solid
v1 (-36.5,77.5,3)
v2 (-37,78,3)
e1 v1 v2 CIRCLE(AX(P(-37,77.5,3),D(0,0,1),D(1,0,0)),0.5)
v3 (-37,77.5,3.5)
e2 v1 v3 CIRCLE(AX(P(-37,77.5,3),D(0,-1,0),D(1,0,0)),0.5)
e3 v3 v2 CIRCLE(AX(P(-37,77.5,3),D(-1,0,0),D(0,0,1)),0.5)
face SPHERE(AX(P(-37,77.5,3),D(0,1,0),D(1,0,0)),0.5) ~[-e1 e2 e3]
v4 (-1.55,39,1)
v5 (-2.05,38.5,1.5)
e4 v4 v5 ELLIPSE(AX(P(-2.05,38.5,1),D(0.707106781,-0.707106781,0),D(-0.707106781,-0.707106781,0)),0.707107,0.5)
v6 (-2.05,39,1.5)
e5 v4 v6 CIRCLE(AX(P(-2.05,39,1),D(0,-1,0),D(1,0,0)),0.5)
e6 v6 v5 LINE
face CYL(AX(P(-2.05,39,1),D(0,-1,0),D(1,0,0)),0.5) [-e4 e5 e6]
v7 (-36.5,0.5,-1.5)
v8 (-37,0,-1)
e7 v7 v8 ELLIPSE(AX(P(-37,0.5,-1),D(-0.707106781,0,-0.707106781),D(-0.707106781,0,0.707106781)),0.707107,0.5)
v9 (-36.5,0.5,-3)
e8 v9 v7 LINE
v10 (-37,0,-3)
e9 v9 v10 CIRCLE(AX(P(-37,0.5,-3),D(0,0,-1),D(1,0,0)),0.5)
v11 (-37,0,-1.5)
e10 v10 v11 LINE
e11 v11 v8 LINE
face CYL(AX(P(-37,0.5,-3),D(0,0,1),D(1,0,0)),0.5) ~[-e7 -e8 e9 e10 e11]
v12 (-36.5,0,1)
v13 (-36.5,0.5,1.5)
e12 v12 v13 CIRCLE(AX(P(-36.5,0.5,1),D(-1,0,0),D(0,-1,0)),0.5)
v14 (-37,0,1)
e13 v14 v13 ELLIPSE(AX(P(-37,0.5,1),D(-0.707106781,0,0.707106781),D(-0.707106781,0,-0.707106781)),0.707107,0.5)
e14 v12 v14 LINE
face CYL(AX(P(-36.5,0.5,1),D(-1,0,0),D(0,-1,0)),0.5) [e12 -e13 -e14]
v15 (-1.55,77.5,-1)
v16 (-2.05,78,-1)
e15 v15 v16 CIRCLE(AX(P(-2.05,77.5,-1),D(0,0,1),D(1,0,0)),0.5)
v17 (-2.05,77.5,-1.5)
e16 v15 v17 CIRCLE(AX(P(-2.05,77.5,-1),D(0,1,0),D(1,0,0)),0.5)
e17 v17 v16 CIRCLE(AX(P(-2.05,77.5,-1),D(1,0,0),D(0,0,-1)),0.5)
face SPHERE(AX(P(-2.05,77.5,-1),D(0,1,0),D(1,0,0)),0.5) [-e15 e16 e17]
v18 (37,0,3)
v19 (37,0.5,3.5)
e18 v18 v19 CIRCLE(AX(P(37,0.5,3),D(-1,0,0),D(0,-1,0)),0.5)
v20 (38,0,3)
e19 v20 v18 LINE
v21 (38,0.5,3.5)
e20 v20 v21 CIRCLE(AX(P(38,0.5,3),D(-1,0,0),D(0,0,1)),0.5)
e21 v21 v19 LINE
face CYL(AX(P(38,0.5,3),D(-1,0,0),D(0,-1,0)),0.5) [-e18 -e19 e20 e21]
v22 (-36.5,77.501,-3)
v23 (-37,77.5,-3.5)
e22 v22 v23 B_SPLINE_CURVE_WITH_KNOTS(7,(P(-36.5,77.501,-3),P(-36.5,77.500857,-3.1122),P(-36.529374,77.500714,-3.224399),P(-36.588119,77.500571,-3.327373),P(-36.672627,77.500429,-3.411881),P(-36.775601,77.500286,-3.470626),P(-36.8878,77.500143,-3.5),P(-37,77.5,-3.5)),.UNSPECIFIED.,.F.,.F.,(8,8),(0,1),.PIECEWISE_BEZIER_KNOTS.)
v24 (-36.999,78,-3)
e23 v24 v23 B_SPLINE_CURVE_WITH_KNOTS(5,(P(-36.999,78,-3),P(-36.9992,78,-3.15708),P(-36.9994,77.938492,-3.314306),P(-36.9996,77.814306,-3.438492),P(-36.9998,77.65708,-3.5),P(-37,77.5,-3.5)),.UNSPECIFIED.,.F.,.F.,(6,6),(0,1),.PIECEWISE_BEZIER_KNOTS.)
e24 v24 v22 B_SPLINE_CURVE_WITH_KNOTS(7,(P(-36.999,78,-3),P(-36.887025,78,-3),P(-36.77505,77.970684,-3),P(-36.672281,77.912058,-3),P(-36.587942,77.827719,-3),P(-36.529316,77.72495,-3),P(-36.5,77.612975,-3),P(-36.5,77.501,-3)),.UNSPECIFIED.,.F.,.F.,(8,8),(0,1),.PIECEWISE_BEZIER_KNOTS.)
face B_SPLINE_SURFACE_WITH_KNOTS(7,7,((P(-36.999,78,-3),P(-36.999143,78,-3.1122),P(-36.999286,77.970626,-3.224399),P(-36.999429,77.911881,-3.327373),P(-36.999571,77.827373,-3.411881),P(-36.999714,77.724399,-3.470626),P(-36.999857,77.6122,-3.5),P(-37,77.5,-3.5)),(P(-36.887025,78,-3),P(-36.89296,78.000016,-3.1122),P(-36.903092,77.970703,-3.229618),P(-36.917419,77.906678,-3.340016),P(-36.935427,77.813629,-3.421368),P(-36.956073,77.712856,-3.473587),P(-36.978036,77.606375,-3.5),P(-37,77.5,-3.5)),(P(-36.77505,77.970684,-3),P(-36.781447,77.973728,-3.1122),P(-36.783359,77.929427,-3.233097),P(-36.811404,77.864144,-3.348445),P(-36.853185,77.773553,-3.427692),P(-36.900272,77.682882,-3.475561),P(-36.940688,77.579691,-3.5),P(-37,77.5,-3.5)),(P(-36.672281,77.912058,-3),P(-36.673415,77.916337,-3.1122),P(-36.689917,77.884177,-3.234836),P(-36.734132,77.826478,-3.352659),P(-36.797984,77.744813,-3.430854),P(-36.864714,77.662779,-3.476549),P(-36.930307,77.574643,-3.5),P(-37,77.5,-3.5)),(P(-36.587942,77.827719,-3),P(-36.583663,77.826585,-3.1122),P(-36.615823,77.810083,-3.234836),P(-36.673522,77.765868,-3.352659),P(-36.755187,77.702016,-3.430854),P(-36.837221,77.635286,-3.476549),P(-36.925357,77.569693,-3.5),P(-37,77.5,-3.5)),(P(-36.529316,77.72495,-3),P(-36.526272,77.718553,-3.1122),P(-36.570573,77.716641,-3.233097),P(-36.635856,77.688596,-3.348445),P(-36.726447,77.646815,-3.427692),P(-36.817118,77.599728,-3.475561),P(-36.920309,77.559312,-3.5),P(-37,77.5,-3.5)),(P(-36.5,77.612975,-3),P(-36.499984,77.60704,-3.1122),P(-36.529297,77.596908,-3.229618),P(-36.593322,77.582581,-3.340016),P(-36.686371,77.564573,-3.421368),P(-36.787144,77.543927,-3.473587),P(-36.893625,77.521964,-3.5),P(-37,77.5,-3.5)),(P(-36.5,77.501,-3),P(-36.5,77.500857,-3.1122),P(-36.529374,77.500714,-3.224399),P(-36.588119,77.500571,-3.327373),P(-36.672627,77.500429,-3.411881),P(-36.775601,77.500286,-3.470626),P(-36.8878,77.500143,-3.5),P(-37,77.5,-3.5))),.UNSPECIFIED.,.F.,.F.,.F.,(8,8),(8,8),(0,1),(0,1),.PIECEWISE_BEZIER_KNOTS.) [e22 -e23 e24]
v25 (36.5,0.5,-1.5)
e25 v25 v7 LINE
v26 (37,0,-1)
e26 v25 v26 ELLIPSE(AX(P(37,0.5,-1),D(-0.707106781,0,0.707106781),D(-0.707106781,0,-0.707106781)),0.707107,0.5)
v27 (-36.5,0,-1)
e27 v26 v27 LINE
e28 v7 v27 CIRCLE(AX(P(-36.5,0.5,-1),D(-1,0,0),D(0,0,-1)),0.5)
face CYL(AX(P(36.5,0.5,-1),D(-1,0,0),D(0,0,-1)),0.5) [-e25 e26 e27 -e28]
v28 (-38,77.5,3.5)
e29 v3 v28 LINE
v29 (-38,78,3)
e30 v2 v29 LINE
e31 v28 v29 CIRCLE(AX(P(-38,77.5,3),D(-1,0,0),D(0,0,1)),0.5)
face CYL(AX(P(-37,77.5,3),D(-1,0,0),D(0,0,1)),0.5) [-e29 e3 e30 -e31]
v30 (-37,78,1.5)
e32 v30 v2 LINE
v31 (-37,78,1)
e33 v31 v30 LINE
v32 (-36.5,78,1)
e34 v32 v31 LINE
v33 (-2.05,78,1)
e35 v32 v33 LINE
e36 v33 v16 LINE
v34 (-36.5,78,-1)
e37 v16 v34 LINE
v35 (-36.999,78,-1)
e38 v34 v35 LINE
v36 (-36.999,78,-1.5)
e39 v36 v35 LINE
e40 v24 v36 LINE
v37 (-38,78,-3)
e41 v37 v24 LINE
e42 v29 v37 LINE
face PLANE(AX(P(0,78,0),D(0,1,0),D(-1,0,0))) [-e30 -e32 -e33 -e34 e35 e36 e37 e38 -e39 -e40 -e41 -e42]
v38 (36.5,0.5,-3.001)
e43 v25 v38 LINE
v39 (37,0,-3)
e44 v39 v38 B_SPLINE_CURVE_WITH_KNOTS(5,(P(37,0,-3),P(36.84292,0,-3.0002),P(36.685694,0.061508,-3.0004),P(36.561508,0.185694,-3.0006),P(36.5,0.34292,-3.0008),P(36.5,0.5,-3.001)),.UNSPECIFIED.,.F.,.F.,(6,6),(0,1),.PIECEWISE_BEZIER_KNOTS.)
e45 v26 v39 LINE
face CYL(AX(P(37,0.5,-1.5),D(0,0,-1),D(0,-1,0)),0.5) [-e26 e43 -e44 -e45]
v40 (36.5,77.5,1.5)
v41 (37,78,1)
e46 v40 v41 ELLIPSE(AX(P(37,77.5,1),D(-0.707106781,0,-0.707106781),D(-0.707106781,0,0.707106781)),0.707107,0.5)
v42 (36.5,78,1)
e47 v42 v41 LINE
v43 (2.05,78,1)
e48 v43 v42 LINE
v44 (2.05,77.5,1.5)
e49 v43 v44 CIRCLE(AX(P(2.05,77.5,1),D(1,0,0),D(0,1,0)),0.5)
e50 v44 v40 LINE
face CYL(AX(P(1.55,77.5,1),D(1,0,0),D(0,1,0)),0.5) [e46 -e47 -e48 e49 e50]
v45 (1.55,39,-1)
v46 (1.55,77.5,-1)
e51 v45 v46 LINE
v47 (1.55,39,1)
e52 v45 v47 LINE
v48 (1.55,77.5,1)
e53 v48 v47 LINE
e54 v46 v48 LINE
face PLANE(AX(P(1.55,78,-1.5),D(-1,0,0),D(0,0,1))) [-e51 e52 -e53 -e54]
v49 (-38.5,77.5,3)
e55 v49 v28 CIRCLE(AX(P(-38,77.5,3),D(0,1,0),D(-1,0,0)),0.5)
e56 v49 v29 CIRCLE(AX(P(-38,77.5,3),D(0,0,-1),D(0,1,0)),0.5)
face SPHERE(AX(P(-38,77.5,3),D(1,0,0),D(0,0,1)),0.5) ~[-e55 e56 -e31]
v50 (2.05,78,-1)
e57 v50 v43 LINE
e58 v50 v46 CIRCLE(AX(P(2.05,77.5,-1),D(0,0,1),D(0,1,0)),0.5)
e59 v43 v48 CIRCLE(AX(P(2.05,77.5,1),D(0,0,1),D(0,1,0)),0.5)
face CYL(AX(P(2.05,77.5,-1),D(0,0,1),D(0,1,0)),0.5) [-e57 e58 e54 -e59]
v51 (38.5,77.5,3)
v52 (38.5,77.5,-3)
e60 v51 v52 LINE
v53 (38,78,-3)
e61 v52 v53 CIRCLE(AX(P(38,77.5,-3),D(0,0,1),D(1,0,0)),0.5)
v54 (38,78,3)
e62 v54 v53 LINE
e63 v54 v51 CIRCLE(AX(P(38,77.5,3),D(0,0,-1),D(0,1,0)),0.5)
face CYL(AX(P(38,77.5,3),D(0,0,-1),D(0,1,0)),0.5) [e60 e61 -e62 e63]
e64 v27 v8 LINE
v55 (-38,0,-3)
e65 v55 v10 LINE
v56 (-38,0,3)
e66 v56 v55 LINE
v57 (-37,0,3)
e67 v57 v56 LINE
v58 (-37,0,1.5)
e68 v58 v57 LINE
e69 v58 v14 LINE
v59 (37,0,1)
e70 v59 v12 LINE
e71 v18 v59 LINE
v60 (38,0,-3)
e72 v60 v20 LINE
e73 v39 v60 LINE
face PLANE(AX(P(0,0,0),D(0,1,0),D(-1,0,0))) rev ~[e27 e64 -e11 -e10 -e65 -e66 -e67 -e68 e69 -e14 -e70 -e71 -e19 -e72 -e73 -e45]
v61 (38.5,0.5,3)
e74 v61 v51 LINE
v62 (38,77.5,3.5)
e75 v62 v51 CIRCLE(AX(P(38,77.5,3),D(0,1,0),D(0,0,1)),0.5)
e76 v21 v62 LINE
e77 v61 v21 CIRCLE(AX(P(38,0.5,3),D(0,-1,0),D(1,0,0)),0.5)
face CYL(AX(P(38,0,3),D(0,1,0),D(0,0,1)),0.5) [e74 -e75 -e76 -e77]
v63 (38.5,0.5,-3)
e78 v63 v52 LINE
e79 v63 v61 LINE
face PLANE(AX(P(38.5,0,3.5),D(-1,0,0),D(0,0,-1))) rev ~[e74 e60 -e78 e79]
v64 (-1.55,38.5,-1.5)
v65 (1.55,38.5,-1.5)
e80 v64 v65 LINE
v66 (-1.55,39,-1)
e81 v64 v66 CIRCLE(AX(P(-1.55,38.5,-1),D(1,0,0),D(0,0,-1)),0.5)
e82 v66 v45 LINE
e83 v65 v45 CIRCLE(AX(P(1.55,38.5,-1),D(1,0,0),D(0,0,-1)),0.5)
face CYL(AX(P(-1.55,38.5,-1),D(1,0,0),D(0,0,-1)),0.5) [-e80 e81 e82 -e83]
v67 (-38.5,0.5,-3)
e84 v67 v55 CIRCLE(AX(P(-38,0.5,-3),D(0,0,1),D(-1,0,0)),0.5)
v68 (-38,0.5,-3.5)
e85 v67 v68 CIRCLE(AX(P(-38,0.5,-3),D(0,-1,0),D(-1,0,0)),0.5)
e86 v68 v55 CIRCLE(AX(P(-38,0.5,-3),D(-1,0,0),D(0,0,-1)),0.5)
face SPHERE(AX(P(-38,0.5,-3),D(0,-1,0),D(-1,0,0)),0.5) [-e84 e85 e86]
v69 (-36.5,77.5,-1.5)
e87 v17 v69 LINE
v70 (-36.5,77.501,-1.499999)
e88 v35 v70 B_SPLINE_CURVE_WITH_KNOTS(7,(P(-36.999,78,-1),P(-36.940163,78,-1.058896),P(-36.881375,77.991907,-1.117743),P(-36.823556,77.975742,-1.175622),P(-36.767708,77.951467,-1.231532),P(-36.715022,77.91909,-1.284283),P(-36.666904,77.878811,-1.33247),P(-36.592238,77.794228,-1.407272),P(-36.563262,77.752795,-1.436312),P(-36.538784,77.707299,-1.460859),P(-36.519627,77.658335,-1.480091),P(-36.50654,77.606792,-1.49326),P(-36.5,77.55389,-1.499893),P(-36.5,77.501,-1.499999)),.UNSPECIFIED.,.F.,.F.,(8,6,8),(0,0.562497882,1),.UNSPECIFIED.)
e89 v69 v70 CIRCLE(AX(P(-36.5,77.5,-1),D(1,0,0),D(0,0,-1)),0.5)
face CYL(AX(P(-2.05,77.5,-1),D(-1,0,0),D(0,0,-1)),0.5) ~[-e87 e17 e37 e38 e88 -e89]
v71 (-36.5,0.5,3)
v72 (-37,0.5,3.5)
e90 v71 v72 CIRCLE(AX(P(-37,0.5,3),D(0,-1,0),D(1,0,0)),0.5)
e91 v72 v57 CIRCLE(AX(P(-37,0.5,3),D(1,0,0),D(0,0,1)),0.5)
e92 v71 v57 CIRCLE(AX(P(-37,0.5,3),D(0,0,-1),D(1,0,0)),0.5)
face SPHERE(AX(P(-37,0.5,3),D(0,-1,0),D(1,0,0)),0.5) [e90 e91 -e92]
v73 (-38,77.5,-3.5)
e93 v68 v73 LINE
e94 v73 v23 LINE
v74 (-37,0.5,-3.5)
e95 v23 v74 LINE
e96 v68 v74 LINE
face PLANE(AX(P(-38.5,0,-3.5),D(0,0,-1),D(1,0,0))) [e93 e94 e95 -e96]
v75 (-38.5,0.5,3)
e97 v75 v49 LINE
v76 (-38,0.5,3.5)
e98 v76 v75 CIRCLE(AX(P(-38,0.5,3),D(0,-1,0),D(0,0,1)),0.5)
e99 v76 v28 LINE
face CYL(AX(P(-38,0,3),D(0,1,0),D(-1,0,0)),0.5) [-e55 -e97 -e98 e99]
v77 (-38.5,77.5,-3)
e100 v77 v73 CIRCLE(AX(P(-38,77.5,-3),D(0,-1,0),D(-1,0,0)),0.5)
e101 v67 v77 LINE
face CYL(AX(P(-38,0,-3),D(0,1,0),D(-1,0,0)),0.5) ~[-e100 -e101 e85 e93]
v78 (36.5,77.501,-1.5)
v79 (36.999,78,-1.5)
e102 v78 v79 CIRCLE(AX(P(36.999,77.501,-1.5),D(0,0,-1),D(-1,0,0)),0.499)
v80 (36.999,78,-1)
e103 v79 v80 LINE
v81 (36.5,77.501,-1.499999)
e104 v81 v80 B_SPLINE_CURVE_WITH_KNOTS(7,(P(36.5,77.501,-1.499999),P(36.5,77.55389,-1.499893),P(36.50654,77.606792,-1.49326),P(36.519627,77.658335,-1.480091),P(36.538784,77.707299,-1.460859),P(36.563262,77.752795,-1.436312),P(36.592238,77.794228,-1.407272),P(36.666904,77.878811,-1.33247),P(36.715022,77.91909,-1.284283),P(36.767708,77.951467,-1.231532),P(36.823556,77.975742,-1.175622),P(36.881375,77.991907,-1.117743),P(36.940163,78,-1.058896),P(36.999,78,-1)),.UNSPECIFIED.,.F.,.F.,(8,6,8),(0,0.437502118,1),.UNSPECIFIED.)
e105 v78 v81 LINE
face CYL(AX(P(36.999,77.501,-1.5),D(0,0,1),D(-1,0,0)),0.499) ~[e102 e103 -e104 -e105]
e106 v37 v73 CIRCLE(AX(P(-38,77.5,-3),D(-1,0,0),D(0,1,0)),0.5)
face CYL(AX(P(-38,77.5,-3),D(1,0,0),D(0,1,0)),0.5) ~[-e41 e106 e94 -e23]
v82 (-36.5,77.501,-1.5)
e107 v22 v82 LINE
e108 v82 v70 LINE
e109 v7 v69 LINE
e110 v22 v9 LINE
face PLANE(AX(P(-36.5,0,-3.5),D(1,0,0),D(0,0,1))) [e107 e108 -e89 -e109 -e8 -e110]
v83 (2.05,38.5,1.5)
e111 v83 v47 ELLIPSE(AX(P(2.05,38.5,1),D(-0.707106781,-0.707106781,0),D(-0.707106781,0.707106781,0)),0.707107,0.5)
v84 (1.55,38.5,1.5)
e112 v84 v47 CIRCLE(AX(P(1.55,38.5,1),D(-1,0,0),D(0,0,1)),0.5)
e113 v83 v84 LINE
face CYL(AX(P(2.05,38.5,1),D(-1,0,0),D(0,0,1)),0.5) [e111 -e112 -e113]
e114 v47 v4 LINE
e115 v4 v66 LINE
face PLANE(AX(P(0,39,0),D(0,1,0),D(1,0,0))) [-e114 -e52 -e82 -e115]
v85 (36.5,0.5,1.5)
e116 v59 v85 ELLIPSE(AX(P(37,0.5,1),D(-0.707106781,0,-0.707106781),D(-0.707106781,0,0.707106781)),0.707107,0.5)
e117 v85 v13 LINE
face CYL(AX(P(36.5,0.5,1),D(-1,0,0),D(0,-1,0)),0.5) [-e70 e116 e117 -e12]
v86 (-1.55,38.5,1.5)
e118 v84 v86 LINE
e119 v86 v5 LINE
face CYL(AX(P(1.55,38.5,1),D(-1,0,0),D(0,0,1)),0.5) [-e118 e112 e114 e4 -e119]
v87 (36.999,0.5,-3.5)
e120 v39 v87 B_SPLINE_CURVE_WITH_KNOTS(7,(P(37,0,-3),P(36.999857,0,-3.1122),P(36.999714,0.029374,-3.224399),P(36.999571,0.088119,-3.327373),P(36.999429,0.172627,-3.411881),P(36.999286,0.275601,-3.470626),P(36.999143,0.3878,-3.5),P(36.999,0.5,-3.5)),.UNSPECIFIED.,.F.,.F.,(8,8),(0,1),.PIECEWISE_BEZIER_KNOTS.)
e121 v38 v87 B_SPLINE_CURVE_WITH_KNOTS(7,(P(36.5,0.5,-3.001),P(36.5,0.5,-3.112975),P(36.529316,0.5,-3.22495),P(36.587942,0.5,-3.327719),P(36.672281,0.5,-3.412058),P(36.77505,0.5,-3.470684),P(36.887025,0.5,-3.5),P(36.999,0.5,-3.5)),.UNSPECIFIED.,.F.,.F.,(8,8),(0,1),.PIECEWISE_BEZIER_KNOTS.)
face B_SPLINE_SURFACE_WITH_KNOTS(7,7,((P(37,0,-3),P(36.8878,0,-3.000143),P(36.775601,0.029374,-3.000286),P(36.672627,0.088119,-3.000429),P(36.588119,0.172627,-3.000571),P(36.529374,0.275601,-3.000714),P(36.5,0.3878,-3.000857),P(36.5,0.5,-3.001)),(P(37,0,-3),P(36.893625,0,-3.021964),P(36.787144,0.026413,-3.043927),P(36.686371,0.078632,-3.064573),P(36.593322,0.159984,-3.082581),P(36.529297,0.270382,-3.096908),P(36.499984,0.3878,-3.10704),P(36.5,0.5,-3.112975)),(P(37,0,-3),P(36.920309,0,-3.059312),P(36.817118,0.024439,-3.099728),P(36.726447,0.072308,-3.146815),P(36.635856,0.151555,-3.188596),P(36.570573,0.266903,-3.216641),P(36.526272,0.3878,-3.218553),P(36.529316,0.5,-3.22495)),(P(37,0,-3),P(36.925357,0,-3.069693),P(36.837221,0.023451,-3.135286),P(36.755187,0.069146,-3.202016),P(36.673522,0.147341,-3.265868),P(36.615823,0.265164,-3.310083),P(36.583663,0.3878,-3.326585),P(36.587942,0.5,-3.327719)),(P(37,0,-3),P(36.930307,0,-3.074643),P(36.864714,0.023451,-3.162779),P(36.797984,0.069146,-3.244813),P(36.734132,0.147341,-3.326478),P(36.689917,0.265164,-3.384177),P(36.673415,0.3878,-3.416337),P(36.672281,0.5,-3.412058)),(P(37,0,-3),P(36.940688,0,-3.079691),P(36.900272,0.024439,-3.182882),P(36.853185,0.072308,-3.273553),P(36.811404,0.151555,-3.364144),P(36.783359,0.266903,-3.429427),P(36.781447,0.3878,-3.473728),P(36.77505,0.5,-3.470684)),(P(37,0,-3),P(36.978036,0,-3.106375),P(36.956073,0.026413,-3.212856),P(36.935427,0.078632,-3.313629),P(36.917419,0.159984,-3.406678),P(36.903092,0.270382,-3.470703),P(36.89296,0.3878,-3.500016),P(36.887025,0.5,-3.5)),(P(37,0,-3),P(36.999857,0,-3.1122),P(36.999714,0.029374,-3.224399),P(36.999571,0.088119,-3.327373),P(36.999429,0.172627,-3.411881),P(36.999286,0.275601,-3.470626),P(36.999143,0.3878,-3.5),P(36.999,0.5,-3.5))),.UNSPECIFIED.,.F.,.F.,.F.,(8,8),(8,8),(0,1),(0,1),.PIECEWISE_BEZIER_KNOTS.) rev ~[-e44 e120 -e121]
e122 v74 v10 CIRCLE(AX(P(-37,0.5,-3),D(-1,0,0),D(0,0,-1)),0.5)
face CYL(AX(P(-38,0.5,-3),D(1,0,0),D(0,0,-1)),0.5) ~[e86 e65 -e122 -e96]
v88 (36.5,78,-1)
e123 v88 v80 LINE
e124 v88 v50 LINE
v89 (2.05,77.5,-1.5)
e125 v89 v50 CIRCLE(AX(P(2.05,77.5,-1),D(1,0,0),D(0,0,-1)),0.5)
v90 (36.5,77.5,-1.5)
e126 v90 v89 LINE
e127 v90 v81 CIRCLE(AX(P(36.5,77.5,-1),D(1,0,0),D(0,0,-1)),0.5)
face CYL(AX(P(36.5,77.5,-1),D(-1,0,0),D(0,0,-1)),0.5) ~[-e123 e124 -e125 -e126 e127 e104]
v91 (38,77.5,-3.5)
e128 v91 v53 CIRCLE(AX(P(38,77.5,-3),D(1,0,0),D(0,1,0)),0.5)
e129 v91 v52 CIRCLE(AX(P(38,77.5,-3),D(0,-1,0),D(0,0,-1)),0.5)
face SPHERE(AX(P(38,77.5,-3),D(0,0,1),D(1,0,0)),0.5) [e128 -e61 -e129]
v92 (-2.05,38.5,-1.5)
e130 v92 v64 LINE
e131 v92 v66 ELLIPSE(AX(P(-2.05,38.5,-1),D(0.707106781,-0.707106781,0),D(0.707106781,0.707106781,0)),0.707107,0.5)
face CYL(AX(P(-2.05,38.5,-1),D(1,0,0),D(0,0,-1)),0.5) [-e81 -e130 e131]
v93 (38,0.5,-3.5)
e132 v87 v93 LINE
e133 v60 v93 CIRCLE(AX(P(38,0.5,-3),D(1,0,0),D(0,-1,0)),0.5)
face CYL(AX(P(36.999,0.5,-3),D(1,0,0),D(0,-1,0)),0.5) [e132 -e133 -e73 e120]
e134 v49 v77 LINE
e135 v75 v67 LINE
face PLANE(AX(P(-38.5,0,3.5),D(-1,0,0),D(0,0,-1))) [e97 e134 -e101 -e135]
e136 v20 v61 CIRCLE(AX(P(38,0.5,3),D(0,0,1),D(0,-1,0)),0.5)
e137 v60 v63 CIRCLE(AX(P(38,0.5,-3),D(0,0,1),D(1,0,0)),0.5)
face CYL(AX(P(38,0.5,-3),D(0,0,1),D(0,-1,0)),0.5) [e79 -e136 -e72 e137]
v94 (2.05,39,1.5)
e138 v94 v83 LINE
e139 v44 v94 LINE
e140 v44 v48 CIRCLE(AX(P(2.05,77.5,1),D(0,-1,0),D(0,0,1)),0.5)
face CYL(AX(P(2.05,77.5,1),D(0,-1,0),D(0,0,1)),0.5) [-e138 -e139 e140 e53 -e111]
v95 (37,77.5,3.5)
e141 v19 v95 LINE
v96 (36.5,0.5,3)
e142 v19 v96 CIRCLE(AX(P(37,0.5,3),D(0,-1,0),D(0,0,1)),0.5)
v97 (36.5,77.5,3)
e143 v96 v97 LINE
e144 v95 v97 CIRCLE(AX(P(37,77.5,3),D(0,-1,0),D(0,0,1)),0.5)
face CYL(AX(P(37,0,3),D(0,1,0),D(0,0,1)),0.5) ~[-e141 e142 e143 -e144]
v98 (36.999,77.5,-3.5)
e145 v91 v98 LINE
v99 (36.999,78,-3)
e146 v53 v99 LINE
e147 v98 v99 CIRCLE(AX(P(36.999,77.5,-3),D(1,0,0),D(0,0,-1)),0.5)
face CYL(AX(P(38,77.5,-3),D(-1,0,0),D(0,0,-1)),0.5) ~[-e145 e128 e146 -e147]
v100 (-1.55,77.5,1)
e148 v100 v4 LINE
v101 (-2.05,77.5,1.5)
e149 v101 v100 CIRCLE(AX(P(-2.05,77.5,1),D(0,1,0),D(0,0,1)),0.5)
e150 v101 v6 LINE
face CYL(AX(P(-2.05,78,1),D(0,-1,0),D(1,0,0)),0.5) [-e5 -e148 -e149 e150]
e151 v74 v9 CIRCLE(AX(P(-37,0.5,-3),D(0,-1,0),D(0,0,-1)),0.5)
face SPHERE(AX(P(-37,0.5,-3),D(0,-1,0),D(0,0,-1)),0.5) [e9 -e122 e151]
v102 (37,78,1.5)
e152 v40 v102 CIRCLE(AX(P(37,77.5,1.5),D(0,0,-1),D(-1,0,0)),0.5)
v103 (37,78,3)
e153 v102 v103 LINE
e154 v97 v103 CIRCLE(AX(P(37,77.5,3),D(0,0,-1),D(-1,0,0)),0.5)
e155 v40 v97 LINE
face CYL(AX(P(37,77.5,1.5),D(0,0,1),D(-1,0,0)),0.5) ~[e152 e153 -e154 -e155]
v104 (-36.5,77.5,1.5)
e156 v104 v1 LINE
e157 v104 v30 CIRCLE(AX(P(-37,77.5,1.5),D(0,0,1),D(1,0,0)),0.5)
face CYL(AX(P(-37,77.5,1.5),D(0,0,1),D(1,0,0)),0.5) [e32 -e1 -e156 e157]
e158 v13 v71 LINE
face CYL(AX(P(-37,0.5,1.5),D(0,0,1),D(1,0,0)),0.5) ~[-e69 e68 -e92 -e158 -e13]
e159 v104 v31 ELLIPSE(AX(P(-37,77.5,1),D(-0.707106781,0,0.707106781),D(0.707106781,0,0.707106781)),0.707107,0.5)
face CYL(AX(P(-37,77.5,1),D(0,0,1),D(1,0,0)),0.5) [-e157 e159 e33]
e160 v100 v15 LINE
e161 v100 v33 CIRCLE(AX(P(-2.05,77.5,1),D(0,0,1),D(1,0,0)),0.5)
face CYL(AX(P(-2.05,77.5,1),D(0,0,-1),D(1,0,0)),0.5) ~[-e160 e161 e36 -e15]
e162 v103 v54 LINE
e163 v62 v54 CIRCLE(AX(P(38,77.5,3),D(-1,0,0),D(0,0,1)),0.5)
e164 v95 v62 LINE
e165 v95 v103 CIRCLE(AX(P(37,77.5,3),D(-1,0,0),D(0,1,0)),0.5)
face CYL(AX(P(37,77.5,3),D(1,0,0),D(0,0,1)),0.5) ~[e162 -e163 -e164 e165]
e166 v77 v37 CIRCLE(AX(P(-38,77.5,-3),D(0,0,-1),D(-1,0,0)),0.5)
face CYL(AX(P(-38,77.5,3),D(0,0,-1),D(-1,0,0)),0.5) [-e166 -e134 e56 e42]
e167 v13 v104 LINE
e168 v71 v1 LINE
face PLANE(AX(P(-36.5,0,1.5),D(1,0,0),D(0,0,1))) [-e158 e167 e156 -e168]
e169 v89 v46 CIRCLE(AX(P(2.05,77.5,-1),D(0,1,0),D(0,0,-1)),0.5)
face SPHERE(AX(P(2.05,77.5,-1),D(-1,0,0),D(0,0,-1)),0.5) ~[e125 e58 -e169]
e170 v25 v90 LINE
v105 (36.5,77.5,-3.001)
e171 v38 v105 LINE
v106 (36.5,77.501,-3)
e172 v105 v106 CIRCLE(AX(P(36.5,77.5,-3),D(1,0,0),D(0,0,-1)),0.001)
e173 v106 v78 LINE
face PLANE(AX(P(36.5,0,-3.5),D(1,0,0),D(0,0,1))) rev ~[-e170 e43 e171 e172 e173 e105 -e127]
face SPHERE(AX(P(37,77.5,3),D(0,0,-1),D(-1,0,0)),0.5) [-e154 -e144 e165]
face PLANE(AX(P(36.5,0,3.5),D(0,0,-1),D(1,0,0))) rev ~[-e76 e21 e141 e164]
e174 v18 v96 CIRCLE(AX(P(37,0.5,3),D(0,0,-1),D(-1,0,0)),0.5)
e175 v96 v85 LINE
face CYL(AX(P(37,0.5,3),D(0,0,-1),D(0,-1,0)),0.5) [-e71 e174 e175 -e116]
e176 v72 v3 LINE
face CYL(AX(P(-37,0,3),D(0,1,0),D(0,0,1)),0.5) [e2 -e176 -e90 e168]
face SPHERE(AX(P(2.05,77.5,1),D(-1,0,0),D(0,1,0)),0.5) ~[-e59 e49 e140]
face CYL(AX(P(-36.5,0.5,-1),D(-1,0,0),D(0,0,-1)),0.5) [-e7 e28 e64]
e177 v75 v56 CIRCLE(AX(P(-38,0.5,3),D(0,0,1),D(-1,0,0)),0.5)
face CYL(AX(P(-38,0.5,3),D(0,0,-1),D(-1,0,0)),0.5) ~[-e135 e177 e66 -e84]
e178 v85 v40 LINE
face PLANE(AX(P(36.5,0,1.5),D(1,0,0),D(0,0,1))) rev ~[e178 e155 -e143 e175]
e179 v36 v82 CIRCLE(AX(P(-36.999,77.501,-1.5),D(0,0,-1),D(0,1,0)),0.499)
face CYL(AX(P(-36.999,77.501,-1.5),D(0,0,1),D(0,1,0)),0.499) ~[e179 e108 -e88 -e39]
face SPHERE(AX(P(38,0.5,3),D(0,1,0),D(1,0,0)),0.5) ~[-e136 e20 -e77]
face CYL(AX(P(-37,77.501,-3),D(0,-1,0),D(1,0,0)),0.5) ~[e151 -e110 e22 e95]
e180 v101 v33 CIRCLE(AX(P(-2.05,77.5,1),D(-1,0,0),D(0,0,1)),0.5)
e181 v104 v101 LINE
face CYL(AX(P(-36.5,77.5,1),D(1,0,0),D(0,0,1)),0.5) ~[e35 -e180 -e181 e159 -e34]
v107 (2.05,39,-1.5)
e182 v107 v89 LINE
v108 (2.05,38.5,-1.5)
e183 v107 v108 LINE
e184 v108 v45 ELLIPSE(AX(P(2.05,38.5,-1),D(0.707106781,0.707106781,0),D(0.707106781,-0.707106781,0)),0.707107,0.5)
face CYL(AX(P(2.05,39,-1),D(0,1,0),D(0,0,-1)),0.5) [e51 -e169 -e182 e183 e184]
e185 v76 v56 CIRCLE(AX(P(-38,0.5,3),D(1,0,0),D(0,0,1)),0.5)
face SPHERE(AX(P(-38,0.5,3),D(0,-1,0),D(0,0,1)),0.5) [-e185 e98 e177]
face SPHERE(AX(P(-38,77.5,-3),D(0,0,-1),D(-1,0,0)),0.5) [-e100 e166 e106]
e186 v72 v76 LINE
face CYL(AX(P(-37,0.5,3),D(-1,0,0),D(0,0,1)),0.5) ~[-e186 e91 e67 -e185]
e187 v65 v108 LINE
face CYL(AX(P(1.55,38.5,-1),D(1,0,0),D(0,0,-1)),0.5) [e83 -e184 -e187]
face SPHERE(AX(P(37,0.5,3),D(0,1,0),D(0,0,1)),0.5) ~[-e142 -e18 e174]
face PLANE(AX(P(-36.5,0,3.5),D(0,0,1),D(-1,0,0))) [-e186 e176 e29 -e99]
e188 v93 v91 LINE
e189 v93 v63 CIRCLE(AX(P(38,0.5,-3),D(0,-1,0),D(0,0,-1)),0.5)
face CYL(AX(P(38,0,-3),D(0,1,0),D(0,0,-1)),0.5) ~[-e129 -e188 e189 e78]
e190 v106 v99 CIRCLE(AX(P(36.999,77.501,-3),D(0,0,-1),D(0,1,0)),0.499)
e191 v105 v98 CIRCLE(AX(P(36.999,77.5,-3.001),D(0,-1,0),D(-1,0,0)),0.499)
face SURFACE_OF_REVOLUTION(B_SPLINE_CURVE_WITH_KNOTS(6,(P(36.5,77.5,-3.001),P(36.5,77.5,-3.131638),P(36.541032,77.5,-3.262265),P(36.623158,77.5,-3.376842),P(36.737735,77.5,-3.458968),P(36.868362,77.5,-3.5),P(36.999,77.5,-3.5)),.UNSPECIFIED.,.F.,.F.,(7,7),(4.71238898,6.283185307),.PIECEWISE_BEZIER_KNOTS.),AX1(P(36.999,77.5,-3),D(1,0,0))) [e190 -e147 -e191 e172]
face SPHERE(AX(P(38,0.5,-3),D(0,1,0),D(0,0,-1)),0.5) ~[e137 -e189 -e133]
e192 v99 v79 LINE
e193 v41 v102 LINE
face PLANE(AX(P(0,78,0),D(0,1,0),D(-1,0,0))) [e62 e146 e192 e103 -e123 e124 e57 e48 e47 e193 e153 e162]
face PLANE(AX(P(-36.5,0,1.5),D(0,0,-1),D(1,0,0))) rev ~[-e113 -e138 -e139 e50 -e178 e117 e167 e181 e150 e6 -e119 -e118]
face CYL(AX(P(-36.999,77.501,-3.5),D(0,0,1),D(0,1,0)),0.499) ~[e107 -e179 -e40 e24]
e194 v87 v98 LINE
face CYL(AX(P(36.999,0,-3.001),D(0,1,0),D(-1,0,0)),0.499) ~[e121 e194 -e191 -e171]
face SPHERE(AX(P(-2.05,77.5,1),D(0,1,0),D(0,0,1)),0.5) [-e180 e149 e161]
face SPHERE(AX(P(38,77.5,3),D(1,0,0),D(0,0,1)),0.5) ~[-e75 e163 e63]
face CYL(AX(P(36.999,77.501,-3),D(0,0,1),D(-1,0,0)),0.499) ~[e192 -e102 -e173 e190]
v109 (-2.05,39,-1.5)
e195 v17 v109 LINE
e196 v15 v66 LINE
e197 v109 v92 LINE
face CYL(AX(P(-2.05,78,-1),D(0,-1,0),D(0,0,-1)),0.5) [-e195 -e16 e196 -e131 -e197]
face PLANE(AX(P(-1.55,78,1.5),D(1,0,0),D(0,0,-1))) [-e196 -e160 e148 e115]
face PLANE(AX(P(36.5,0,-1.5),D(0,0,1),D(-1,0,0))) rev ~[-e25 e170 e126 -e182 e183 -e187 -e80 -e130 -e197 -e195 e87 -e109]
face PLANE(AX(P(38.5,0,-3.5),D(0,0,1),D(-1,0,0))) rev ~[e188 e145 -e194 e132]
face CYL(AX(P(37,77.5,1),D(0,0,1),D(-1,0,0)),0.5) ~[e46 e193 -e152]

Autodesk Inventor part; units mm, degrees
ref_plane "YZ Plane" through (0, 0, 0) normal (1, 0, 0) x (0, 1, 0)
ref_plane "XZ Plane" through (0, 0, 0) normal (0, 1, 0) x (-1, 0, 0)
ref_plane "XY Plane" through (0, 0, 0) normal (0, 0, 1) x (1, 0, 0)
sketch "スケッチ1" plane through (0, 0, 0) normal (0, 1, 0) x (-1, 0, 0)
  line L0 (37.5, 1.5) -> (-37.5, 1.5)
  line L1 (-37.5, 1.5) -> (-37.5, -1.5)
  line L2 (-37.5, -1.5) -> (37.5, -1.5)
  line L3 (37.5, -1.5) -> (37.5, 1.5)
  line L4 (37.5, 1.5) -> (-37.5, -1.5) construction
  line L5 (-37.5, 1.5) -> (37.5, -1.5) construction
  line L6 (36.5, 3.5) -> (38.5, 3.5)
  line L7 (38.5, 3.5) -> (38.5, -3.5)
  line L8 (38.5, -3.5) -> (36.5, -3.5)
  line L9 (36.5, -3.5) -> (36.5, 3.5)
  line L10 (36.5, 3.5) -> (38.5, -3.5) construction
  line L11 (38.5, 3.5) -> (36.5, -3.5) construction
  line L12 (-36.5, 3.5) -> (-38.5, 3.5)
  line L13 (-38.5, 3.5) -> (-38.5, -3.5)
  line L14 (-38.5, -3.5) -> (-36.5, -3.5)
  line L15 (-36.5, -3.5) -> (-36.5, 3.5)
  line L16 (-36.5, 3.5) -> (-38.5, -3.5) construction
  line L17 (-38.5, 3.5) -> (-36.5, -3.5) construction
  point P0 (0, 0)
  point P1 (37.5, 0)
  point P2 (-37.5, 0)
  dimension "d0" = 75
  dimension "d1" = 3
  dimension "d2" = 2
  dimension "d3" = 7
  dimension "d4" = 2
  dimension "d5" = 7
extrude "押し出し1" add sketch "スケッチ1" along normal blind 78
sketch "スケッチ2" plane through (0, 78, 0) normal (0, 1, 0) x (1, 0, 0)
  line L0 (1.55, -1.5) -> (-1.55, -1.5)
  line L1 (-1.55, -1.5) -> (-1.55, 1.5)
  line L2 (-1.55, 1.5) -> (1.55, 1.5)
  line L3 (1.55, 1.5) -> (1.55, -1.5)
  line L4 (1.55, -1.5) -> (-1.55, 1.5) construction
  line L5 (-1.55, -1.5) -> (1.55, 1.5) construction
  point P0 (0, 0)
  dimension "d8" = 3.1
  dimension "d9" = 3
extrude "押し出し2" cut sketch "スケッチ2" against normal blind 39
fillet "フィレット1" radius 0.5 33 edges at (19.025, 78, -1.5) (19.025, 78, 1.5) (1.55, 78, 0) (1.55, 58.5, 1.5) (1.55, 58.5, -1.5) (-1.55, 58.5, -1.5) (0, 39, -1.5) (0, 39, 1.5) (-1.55, 58.5, 1.5) (-1.55, 78, 0) (-19.025, 78, 1.5) (-19.025, 78, -1.5) (36.5, 78, 2.5) (37.5, 78, 3.5) (38.5, 78, 0) (37.5, 78, -3.5) (36.5, 78, -2.5) (36.5, 39, -3.5) (38.5, 39, -3.5) (38.5, 39, 3.5) (36.5, 39, 3.5) (-36.5, 39, 3.5) (-37.5, 78, 3.5) (-36.5, 78, 2.5) (-38.5, 78, 0) (-36.5, 78, -2.5) (-37.5, 78, -3.5) (-36.5, 39, -3.5) (-38.5, 39, -3.5) (-38.5, 39, 3.5) (-38.5, 0, 0) (-37.5, 0, 3.5) (-36.5, 0, 2.5)
fillet "フィレット2" radius 0.5 20 edges at (-36.75, 0, 1.5) (0, 0, 1.5) (0, 0, -1.5) (-37, 0, -2.25) (-37, 0, 2.25) (-37.5, 0, 3) (36.6464, 0, 3.3536) (-38, 0, 0) (-37.5, 0, -3) (38.3536, 0, 3.3536) (38.3536, 0, -3.3536) (36.6462, 0, -3.3538) (-38.3536, 0.1464, 3) (-38.5, 0.5, 0) (-38.3536, 0.1464, -3) (37.5, 0, 3.5) (38.5, 0, 0) (37.4995, 0, -3.5) (36.5, 0, -2.2505) (36.5, 0, 2.25)
properties part number "partition"
